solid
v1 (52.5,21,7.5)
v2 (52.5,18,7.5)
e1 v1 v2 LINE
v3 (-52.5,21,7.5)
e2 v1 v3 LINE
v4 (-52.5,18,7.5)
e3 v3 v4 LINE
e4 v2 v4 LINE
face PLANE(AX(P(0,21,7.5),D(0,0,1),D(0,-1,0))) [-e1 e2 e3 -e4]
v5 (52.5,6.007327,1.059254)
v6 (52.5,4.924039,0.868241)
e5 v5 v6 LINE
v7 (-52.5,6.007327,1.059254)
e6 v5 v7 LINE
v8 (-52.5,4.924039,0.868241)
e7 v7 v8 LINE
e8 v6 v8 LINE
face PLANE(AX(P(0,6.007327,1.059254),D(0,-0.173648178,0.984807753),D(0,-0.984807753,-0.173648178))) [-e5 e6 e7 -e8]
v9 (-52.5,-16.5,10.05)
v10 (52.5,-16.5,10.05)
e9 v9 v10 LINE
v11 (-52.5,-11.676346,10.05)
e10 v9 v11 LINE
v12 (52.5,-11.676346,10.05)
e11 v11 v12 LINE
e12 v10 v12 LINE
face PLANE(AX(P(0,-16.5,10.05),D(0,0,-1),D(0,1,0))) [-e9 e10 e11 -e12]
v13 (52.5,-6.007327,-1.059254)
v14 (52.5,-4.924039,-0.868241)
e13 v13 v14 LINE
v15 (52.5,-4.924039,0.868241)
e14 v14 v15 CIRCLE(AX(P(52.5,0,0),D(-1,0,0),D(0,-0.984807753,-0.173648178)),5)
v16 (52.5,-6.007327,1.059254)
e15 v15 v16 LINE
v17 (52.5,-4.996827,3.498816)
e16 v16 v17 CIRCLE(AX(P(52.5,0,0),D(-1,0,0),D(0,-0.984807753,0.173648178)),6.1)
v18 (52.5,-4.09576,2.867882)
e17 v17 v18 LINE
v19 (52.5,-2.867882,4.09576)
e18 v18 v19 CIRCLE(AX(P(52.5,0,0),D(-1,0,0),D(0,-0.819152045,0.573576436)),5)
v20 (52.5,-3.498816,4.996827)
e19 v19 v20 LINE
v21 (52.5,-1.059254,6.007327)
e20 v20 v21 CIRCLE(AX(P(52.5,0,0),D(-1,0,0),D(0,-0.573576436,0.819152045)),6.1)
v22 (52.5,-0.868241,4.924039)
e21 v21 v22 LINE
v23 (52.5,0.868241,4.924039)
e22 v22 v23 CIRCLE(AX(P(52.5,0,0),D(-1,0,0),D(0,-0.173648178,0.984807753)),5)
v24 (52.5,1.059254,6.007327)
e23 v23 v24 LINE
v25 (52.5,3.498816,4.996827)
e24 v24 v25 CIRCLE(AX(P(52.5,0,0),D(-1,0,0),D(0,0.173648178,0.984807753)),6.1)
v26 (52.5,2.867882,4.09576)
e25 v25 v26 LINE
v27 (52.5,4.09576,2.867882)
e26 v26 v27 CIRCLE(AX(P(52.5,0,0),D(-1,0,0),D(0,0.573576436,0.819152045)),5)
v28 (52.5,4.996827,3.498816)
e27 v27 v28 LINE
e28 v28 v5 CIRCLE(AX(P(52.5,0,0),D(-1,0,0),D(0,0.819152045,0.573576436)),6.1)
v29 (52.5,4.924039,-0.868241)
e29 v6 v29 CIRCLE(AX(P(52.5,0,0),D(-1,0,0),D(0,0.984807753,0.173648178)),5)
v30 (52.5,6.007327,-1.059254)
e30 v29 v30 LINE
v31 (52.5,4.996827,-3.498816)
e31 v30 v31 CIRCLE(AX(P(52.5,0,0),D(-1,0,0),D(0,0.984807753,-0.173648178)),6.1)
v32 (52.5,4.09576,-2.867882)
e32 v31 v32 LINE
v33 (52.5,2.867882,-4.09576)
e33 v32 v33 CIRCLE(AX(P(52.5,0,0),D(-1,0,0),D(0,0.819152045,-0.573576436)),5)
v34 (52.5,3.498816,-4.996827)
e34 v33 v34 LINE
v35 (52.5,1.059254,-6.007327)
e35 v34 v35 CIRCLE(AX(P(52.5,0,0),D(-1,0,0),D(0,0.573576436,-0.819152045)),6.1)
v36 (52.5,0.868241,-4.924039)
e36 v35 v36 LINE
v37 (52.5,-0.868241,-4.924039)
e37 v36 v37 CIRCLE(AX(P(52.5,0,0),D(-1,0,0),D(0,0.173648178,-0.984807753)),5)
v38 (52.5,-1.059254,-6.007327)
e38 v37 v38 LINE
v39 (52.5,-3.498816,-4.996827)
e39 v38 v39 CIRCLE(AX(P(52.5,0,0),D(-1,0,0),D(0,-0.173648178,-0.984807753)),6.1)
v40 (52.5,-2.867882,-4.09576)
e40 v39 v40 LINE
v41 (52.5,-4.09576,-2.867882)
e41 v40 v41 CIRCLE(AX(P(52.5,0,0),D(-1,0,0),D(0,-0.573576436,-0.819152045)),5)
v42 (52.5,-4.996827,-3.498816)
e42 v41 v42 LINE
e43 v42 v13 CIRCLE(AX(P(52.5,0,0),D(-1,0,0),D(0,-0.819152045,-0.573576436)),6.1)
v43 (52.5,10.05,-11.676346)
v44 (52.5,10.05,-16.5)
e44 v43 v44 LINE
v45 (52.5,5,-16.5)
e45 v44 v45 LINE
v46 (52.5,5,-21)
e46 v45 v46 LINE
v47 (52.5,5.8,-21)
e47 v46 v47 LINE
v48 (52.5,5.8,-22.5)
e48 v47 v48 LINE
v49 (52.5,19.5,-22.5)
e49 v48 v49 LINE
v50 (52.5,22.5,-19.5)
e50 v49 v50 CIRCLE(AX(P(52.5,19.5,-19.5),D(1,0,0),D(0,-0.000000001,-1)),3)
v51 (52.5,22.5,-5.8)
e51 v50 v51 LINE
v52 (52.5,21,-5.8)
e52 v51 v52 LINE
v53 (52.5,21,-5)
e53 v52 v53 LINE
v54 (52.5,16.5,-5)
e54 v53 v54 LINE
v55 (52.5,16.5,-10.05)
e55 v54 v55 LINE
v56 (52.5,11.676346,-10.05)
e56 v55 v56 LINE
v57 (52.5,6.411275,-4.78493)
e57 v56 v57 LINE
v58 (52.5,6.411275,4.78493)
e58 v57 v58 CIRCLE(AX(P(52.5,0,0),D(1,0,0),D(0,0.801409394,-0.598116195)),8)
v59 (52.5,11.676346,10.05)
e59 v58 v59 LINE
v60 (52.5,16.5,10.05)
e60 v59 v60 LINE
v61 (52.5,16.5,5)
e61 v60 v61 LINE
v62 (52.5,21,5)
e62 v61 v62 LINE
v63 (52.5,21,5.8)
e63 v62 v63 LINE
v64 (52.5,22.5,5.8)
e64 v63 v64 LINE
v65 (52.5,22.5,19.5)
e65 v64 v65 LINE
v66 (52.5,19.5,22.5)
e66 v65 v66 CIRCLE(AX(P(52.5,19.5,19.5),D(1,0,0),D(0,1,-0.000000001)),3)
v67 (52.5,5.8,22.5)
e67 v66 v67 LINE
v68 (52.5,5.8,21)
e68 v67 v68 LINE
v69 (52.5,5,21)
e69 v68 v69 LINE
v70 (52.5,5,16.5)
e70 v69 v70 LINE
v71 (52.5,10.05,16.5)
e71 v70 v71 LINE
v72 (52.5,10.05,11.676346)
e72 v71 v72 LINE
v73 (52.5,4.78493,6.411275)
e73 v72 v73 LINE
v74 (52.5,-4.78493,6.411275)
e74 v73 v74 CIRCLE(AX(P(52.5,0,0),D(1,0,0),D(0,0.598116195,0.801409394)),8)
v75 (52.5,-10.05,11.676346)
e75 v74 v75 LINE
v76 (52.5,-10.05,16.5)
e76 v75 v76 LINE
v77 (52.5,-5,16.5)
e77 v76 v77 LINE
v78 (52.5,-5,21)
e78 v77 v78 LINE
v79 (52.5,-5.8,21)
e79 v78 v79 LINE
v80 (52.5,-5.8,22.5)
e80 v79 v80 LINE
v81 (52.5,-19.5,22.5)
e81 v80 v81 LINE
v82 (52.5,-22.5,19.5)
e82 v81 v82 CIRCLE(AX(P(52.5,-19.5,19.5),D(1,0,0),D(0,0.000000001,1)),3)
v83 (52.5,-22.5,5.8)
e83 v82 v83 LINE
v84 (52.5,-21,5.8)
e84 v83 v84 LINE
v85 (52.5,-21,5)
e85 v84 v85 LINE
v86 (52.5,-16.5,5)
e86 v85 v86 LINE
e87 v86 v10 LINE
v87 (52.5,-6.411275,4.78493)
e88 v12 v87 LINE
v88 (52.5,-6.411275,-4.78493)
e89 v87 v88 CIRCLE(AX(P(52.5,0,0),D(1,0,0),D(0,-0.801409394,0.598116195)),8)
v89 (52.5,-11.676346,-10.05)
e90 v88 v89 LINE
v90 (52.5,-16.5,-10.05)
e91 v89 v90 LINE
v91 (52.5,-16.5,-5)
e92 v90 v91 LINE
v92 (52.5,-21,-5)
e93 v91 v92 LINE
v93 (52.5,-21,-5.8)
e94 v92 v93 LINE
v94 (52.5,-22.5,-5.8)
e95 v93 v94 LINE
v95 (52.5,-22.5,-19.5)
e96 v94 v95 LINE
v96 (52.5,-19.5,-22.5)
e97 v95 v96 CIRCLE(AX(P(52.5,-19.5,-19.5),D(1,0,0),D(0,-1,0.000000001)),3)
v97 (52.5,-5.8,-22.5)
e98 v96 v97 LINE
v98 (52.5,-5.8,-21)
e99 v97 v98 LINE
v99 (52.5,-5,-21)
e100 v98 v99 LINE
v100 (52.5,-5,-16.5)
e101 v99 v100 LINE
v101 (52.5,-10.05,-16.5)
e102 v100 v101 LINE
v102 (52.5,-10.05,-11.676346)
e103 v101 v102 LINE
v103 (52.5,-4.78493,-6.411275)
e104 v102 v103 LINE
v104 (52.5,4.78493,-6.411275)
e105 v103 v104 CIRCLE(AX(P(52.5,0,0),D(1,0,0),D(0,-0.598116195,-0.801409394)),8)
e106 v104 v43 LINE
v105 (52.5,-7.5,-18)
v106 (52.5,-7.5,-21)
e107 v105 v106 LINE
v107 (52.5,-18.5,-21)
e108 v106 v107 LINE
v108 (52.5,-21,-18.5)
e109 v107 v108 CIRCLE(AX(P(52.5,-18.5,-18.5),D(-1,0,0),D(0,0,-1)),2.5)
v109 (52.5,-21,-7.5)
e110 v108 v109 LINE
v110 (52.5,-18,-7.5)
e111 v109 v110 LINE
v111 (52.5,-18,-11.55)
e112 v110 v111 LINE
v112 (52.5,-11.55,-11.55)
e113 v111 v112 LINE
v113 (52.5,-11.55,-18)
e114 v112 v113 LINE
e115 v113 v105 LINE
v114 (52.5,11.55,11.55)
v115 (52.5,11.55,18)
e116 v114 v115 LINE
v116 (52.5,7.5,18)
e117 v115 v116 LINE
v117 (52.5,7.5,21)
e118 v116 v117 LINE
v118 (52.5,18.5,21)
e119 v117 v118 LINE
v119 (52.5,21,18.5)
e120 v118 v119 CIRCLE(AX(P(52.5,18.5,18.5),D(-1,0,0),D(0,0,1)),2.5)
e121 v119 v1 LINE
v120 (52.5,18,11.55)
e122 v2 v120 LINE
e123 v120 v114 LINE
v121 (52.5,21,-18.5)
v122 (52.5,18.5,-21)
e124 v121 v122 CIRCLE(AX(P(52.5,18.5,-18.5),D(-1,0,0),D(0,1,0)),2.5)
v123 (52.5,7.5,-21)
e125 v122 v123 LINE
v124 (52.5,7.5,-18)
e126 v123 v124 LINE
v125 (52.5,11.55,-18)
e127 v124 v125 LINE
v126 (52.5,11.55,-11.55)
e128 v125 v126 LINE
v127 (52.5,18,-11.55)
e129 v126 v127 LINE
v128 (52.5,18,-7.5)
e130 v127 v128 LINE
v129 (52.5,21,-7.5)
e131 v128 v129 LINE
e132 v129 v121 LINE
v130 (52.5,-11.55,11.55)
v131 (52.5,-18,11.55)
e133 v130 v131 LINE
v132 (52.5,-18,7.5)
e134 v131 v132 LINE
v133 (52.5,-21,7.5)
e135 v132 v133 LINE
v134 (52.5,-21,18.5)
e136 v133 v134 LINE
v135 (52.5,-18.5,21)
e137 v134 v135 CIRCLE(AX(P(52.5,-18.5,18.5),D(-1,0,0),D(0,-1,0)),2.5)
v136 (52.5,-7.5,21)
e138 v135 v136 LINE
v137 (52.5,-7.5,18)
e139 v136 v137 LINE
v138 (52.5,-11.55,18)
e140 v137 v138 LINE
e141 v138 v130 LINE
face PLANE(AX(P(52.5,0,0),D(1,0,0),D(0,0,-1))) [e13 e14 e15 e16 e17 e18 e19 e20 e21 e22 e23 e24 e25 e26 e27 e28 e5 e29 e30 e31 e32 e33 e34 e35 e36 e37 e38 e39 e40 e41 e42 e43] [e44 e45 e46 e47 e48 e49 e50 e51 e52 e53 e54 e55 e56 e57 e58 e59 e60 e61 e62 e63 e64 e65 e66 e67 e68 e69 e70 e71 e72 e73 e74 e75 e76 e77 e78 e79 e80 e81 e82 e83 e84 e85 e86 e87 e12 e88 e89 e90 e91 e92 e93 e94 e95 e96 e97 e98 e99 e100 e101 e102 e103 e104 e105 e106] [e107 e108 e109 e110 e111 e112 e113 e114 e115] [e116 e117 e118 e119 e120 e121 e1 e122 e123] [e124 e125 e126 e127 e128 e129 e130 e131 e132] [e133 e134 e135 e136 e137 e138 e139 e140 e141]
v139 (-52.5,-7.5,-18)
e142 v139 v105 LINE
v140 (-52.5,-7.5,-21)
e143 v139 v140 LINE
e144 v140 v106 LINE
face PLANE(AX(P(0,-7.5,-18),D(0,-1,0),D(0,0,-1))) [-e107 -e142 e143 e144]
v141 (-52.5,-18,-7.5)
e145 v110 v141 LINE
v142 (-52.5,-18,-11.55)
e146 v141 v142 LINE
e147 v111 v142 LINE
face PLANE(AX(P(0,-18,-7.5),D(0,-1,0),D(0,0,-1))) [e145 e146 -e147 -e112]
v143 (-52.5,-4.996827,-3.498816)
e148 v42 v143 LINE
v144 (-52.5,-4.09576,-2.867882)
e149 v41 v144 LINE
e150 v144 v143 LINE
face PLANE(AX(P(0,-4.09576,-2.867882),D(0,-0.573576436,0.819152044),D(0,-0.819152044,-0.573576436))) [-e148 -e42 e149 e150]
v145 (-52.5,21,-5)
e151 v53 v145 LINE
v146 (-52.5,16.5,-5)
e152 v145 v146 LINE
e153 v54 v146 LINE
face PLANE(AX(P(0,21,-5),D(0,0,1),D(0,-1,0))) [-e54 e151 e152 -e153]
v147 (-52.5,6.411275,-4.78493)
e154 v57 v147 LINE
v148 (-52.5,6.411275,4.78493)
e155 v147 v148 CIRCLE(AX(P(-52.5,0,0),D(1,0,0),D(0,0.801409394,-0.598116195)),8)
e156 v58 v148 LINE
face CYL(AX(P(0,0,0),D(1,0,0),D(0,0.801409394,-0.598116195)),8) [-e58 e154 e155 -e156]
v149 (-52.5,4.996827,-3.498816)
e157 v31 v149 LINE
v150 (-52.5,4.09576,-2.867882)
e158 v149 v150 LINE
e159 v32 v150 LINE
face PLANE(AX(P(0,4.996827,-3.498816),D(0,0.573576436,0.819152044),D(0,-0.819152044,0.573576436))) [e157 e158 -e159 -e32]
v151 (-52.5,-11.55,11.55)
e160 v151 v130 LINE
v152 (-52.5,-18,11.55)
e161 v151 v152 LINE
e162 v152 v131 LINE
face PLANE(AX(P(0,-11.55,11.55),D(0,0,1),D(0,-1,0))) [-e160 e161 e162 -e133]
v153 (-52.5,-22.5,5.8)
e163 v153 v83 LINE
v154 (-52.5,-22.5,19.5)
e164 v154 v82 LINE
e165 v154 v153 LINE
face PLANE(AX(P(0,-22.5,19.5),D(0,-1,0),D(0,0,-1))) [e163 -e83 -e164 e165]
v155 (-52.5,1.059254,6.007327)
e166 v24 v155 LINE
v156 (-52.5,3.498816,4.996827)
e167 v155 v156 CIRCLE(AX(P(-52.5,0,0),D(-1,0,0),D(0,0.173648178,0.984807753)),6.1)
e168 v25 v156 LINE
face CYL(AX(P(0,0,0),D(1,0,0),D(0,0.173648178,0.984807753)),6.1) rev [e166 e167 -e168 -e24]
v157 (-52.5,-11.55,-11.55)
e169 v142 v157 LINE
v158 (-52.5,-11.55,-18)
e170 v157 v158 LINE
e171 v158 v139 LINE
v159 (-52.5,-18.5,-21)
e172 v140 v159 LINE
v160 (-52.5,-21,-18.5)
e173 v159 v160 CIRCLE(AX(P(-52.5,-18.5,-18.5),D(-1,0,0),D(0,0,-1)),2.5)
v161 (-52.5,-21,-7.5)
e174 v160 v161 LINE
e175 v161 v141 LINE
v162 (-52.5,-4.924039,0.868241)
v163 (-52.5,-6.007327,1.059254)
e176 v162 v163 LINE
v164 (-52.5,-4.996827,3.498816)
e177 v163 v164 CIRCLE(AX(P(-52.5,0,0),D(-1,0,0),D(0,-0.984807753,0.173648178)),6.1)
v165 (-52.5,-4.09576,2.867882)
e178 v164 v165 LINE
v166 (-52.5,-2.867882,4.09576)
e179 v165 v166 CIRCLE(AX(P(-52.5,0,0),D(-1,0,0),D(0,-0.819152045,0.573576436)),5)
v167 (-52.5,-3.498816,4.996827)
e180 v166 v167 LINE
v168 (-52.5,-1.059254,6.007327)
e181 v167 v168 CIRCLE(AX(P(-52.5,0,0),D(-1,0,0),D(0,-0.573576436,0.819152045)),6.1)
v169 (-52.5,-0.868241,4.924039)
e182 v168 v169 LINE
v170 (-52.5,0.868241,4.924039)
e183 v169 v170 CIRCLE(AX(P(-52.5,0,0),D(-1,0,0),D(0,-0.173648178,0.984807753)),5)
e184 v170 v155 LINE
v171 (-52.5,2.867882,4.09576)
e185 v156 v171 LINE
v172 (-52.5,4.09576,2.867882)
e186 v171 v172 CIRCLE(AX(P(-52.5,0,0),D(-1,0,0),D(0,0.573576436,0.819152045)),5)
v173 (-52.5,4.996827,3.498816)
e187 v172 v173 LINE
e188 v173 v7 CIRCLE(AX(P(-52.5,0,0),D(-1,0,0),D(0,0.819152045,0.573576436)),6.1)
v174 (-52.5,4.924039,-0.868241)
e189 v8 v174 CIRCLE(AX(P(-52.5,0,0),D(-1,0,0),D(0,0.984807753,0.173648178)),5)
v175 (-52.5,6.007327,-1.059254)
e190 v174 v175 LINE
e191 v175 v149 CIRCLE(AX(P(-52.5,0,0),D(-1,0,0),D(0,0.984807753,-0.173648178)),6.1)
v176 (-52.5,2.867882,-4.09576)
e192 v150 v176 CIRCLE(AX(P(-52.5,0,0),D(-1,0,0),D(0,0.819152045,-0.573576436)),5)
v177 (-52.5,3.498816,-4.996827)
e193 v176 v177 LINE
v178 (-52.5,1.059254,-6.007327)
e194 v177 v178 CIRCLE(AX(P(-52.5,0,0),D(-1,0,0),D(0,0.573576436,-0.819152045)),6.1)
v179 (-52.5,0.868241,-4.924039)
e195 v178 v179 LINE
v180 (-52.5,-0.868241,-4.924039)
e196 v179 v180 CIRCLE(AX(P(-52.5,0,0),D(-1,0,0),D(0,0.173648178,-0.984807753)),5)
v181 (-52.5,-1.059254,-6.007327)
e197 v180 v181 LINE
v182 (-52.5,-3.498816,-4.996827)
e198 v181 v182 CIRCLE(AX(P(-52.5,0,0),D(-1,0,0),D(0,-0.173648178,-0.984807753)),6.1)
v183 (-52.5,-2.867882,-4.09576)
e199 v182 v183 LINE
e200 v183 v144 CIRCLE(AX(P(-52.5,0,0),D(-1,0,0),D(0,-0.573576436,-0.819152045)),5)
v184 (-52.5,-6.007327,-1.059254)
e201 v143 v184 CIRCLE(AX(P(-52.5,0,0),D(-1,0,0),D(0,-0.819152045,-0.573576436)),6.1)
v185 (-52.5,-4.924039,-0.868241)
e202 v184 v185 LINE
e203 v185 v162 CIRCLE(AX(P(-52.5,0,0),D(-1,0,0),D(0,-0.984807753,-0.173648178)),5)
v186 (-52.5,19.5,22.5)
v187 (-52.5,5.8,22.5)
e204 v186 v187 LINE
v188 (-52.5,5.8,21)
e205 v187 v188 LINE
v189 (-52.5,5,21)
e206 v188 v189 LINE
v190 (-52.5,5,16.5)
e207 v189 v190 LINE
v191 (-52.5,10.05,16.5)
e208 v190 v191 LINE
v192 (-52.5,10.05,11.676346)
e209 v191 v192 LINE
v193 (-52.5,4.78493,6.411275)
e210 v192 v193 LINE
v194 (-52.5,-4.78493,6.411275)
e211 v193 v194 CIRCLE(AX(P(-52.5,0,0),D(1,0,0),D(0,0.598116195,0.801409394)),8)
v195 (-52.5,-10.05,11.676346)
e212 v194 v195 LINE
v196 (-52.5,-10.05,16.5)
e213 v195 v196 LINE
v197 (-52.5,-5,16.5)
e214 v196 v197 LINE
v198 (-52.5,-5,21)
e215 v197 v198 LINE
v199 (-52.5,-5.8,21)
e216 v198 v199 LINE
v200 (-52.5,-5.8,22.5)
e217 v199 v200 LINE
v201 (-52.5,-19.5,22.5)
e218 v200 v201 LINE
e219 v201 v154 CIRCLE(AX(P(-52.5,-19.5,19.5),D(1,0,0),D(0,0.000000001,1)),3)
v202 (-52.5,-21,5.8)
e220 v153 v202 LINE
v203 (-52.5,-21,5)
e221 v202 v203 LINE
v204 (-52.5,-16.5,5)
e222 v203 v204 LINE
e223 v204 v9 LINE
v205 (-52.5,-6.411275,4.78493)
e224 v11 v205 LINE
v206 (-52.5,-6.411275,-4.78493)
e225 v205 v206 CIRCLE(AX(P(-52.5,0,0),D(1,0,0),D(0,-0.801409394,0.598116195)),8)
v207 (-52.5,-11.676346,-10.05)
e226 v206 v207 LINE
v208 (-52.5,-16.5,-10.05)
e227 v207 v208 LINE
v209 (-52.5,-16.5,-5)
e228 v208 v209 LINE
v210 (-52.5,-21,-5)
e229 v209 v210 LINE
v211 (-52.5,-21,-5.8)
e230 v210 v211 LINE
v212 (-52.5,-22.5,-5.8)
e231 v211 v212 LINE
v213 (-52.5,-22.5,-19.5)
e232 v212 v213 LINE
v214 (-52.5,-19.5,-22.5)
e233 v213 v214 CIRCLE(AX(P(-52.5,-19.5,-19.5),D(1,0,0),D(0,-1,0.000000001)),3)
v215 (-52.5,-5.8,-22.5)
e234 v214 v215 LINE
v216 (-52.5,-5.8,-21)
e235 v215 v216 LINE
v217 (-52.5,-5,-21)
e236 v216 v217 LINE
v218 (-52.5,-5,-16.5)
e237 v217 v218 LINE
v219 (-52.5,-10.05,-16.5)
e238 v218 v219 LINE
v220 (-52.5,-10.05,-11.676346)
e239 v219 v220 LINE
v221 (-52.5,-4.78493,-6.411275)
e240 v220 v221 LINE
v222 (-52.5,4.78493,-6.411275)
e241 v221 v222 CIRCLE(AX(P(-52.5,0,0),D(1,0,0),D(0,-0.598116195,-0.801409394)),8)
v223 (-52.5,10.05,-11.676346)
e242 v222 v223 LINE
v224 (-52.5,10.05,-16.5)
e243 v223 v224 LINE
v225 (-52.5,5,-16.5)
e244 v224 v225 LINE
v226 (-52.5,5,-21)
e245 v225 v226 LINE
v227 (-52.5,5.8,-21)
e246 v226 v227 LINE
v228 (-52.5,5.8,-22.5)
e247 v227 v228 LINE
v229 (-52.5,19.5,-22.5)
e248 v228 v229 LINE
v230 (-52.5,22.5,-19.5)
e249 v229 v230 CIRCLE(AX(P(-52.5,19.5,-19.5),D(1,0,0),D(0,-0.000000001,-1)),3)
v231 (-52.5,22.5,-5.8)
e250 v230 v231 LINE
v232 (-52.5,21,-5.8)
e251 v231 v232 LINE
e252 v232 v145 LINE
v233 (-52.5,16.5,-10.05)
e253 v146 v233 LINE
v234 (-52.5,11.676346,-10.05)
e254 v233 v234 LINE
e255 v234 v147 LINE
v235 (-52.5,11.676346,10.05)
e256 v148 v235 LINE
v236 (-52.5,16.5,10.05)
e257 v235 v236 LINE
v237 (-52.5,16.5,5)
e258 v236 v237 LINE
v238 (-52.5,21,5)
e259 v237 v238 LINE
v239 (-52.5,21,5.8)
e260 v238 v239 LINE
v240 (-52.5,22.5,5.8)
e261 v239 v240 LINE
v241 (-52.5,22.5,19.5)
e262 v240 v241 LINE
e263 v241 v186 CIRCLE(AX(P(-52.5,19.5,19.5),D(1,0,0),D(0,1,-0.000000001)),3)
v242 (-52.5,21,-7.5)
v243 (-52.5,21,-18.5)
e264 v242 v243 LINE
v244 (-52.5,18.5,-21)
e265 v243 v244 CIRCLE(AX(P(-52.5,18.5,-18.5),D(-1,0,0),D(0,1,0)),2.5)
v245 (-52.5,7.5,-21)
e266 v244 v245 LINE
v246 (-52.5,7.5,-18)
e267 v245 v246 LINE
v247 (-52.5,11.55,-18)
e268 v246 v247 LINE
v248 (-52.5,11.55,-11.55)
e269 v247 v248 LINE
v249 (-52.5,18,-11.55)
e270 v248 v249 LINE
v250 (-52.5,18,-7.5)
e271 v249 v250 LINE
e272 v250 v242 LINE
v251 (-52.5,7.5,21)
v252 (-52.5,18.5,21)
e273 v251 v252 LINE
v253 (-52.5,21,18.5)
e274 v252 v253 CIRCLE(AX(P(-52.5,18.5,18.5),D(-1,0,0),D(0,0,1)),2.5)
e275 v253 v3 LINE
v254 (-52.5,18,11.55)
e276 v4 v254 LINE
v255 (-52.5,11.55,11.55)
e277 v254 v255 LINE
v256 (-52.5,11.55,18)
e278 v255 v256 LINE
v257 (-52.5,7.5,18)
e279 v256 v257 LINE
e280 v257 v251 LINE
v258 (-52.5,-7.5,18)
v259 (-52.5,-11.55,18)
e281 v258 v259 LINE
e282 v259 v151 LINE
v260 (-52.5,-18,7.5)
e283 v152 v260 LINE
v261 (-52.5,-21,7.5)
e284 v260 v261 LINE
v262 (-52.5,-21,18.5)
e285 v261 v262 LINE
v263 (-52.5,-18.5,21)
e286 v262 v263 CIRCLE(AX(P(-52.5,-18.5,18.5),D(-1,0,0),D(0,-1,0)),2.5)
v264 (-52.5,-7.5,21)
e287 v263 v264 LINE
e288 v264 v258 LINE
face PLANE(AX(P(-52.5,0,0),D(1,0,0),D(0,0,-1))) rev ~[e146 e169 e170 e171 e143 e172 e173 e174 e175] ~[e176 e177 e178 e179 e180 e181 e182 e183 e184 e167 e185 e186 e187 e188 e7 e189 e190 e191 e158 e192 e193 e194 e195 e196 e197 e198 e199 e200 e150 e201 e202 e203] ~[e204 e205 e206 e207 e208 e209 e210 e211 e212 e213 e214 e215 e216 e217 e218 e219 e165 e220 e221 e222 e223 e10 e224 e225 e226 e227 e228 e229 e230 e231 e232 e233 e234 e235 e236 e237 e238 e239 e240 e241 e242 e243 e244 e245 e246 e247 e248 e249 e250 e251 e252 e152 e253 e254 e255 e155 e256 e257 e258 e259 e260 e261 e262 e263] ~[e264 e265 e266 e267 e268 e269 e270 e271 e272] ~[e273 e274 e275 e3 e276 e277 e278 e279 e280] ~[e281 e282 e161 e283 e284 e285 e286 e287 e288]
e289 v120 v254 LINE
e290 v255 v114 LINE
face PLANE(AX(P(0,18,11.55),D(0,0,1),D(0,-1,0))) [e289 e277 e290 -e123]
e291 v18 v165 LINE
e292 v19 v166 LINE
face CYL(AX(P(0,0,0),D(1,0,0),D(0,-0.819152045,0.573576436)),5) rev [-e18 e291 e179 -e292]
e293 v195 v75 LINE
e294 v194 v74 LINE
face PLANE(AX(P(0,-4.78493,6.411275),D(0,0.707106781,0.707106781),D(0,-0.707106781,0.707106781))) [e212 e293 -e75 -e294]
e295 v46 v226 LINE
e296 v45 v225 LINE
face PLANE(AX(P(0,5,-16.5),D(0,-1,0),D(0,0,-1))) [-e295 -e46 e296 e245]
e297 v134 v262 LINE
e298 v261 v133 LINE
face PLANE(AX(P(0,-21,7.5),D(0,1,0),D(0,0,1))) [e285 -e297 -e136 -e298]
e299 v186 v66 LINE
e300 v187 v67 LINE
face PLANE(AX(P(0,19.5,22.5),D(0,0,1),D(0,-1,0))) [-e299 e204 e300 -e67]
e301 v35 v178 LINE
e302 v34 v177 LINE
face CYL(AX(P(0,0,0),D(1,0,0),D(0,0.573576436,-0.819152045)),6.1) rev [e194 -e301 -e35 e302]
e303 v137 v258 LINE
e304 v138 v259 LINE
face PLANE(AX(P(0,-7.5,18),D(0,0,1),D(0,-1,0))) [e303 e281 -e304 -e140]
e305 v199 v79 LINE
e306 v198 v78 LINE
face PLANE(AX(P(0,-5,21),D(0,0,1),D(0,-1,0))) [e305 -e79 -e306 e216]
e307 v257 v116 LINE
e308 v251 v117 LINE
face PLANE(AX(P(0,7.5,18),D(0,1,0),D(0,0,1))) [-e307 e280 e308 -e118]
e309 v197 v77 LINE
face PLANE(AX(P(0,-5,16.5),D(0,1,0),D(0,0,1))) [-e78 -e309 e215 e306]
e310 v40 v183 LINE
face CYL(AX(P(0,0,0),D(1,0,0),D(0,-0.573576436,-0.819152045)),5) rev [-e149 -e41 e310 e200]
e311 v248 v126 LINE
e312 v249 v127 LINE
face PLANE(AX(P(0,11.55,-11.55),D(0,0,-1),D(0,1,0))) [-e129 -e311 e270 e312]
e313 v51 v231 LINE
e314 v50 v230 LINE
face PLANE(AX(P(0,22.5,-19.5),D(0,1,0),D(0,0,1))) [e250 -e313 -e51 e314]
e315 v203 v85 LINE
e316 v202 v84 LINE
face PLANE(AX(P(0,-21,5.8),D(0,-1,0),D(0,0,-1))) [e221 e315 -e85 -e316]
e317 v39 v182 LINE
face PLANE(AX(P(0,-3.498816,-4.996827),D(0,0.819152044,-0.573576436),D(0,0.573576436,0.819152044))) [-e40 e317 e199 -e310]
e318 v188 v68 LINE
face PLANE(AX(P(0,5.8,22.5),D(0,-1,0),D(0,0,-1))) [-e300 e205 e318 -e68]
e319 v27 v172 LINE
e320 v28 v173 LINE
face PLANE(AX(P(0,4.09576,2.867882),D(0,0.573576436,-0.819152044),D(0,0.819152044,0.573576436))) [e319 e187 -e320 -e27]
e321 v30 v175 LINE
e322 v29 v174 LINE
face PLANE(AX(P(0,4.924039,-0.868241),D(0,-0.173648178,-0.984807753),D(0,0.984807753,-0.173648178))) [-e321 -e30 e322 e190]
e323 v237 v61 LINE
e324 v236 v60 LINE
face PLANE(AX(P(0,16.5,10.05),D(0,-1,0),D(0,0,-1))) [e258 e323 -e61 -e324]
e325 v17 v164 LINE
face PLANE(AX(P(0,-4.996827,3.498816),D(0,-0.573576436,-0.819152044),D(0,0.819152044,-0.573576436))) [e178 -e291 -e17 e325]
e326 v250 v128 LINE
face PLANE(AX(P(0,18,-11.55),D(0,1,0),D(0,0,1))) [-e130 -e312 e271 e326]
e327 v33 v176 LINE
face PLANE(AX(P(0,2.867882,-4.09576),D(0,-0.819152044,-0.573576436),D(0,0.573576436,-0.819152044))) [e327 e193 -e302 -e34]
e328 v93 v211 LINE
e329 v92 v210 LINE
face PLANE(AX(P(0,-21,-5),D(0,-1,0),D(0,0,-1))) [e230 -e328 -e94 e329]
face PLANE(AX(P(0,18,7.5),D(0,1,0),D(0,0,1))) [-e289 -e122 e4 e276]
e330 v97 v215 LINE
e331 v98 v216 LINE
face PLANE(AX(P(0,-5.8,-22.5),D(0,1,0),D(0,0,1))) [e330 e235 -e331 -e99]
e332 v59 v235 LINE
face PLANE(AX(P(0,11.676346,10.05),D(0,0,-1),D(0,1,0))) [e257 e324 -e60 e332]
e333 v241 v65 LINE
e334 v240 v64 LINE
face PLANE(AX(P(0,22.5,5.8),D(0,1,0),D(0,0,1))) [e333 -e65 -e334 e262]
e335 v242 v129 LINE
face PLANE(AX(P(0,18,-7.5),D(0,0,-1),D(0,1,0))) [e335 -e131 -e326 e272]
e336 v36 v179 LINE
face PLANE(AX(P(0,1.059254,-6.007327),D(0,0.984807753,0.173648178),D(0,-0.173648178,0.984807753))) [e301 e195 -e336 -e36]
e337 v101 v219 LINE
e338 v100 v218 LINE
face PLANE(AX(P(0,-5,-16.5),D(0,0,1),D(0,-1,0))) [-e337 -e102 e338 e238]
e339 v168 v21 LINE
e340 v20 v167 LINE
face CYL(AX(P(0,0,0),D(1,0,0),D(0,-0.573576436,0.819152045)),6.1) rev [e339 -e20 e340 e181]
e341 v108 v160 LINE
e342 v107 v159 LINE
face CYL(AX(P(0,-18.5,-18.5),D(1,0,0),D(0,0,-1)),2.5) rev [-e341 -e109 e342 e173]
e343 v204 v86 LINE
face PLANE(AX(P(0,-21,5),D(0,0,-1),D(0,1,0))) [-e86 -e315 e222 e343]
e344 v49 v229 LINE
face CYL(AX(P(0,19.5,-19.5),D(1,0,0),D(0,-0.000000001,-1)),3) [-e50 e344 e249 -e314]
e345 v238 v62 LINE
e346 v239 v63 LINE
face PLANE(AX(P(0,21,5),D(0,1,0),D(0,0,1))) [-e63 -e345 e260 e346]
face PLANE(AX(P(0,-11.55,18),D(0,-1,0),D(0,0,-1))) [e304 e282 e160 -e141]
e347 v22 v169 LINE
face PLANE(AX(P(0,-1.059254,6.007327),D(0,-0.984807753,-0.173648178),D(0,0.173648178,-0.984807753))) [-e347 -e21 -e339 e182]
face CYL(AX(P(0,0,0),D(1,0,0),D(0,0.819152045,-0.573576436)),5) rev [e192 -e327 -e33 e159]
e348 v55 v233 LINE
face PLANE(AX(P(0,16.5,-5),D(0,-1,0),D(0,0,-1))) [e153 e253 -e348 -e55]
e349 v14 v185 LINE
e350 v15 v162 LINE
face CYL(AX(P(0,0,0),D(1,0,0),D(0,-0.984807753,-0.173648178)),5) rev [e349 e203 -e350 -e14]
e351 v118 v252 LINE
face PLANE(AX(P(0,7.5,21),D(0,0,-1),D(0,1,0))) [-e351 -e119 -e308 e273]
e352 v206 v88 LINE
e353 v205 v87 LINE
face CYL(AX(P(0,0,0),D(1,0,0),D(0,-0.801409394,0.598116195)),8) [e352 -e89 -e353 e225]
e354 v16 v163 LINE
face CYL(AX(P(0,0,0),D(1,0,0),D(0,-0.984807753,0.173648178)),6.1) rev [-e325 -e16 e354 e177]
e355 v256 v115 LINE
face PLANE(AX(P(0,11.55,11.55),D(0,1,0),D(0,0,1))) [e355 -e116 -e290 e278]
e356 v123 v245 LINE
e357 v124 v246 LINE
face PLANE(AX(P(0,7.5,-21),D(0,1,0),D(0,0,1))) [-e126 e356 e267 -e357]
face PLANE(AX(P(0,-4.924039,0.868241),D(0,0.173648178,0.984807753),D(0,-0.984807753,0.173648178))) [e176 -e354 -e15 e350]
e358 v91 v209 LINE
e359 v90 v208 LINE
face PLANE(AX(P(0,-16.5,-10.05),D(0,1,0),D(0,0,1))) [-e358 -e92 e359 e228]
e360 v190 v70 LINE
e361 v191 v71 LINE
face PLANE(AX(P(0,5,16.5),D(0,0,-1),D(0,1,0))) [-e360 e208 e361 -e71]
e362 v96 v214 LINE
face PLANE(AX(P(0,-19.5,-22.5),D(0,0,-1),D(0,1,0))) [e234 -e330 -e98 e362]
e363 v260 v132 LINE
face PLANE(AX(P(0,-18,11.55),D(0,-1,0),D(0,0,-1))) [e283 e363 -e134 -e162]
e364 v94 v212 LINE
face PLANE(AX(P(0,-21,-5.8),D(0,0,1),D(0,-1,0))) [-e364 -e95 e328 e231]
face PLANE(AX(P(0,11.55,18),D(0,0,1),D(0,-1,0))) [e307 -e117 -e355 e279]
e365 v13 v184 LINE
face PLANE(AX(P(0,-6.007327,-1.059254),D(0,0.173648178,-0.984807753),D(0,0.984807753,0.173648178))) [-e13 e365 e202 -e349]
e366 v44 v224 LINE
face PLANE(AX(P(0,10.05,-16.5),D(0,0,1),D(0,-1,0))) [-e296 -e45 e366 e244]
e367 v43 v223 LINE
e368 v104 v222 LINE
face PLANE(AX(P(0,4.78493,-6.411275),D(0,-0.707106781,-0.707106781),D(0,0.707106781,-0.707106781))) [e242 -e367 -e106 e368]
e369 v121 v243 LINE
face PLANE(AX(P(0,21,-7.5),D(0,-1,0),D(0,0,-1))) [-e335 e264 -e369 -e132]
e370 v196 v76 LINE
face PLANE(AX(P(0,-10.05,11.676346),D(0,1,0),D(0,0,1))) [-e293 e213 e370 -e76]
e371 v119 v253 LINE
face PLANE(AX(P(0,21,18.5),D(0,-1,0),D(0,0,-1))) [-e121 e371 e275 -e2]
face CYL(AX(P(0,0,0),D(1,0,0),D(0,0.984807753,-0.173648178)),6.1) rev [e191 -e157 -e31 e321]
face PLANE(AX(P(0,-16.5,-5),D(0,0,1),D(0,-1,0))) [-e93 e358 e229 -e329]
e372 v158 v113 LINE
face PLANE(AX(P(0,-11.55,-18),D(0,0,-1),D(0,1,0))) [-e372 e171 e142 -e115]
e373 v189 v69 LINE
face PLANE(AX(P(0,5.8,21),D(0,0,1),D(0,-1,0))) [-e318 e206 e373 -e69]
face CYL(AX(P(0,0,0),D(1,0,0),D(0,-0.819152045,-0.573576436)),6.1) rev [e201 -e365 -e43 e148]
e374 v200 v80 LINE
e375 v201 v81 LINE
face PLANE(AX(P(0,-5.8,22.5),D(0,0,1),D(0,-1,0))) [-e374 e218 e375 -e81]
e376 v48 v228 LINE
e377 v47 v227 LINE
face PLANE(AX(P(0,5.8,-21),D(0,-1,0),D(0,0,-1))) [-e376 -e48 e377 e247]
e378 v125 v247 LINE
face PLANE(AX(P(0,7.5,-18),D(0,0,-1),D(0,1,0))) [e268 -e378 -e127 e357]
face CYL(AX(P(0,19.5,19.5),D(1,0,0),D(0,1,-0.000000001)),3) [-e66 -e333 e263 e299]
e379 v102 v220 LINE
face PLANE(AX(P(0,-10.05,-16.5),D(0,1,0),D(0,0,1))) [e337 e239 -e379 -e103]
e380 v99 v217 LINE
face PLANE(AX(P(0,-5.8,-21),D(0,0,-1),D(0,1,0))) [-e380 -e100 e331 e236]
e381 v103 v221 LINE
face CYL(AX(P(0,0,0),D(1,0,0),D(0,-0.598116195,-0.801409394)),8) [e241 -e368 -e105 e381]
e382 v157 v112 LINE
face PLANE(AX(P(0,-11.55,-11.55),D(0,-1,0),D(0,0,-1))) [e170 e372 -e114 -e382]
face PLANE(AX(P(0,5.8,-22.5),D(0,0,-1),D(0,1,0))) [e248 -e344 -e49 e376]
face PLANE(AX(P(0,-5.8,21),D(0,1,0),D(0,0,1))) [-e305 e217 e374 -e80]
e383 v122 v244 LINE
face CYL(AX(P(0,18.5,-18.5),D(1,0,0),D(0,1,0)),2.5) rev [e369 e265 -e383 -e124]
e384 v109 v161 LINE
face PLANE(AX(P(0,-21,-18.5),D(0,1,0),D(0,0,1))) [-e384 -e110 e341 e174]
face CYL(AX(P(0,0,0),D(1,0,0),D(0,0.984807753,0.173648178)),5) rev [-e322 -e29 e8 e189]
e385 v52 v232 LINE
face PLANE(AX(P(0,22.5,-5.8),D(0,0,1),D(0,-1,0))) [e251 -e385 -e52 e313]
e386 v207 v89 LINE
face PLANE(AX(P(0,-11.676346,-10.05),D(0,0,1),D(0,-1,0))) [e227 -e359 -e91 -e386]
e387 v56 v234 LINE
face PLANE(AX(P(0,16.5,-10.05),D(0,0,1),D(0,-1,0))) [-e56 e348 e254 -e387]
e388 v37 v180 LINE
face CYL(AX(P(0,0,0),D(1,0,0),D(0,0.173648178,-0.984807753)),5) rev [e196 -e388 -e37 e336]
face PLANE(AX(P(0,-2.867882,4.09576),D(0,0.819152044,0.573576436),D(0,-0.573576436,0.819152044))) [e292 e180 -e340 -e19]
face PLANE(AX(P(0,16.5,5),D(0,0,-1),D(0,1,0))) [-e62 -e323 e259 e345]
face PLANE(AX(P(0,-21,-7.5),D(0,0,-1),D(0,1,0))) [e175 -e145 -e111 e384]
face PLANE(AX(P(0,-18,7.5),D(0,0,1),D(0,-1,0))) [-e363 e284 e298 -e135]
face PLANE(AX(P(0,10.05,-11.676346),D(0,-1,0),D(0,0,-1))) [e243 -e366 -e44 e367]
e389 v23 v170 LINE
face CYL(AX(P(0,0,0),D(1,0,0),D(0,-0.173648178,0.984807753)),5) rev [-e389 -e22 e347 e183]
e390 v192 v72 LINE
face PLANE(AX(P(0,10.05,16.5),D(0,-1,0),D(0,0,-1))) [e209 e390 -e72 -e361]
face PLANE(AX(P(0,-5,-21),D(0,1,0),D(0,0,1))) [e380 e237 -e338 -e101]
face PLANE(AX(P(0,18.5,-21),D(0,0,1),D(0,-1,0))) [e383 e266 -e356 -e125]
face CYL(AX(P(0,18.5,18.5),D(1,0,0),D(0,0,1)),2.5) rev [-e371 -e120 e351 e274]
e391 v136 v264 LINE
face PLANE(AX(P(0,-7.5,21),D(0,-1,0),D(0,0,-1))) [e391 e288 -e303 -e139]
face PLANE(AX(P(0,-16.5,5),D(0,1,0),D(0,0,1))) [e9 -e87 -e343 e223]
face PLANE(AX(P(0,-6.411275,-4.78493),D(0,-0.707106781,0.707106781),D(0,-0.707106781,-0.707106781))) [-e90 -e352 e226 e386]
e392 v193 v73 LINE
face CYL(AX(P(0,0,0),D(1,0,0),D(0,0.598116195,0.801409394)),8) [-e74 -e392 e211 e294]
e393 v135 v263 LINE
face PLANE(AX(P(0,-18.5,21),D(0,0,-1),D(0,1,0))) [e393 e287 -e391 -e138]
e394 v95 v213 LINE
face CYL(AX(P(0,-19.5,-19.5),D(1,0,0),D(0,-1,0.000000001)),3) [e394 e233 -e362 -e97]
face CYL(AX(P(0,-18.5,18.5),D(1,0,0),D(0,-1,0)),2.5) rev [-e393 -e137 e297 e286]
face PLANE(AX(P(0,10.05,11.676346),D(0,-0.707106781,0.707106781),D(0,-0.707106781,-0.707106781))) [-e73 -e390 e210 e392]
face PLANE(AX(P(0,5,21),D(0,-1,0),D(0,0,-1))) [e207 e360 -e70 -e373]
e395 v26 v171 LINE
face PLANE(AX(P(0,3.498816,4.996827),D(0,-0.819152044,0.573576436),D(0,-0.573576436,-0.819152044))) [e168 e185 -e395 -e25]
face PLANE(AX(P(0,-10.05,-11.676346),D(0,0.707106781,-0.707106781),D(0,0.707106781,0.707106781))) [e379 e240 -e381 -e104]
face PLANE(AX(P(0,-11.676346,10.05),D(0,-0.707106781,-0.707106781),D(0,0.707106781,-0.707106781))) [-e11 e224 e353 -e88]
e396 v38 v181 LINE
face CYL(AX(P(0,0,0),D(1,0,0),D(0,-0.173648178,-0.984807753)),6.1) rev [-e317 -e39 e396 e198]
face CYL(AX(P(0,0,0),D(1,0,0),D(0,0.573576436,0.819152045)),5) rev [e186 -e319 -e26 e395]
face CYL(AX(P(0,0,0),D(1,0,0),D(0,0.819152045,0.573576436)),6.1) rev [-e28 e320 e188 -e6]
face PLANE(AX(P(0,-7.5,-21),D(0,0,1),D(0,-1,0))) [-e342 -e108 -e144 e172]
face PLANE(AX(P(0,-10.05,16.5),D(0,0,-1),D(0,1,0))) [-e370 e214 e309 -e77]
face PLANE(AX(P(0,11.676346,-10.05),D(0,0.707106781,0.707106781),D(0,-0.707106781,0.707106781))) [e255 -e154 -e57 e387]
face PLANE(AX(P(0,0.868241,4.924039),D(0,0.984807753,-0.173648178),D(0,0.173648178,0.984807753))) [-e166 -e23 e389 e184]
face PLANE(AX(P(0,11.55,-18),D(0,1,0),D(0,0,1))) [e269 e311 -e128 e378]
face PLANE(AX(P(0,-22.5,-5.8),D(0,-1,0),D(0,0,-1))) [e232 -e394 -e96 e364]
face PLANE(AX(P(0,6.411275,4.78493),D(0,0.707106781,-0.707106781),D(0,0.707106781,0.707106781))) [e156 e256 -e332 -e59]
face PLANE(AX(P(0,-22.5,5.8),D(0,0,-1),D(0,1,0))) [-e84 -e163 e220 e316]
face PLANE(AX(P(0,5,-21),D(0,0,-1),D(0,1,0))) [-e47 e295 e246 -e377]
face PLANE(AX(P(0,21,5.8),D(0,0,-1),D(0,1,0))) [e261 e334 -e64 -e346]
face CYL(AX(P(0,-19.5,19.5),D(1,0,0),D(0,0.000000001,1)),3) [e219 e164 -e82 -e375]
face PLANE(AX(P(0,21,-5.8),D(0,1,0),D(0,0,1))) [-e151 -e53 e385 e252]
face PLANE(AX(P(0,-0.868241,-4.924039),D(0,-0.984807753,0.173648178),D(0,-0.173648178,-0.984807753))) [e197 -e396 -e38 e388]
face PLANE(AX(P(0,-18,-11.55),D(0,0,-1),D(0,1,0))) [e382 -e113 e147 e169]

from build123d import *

# Parameters (mm, degrees)
BR_EXTRUDE_DEPTH      = 52.5
BR_EXTRUDE_DEPTH_BACK = 52.5


with BuildPart() as part:
    # Sketch2 → BR_Extrude (new body, two sides)
    with BuildSketch(Plane(origin=(0, 0, 0), x_dir=(0, 0, -1), z_dir=(1, 0, 0))) as br_extrude_sk:
        with BuildLine():
            Line((-10.05, 11.676345597), (-10.05, 16.5))
            Line((-10.05, 16.5), (-5, 16.5))
            Line((-5, 16.5), (-5, 21))
            Line((-5, 21), (-5.8, 21))
            Line((-5.8, 21), (-5.8, 22.5))
            Line((-5.8, 22.5), (-19.5, 22.5))
            ThreePointArc((-19.5, 22.5), (-21.621320344, 21.621320344), (-22.5, 19.5))
            Line((-22.5, 19.5), (-22.5, 5.8))
            Line((-22.5, 5.8), (-21, 5.8))
            Line((-21, 5.8), (-21, 5))
            Line((-21, 5), (-16.5, 5))
            Line((-16.5, 5), (-16.5, 10.05))
            Line((-16.5, 10.05), (-11.676345597, 10.05))
            Line((-11.676345597, 10.05), (-6.411275155, 4.784929559))
            ThreePointArc((-6.411275155, 4.784929559), (-8, 0), (-6.411275155, -4.784929559))
            Line((-6.411275155, -4.784929559), (-11.676345597, -10.05))
            Line((-11.676345597, -10.05), (-16.5, -10.05))
            Line((-16.5, -10.05), (-16.5, -5))
            Line((-16.5, -5), (-21, -5))
            Line((-21, -5), (-21, -5.8))
            Line((-21, -5.8), (-22.5, -5.8))
            Line((-22.5, -5.8), (-22.5, -19.5))
            ThreePointArc((-22.5, -19.5), (-21.621320344, -21.621320344), (-19.5, -22.5))
            Line((-19.5, -22.5), (-5.8, -22.5))
            Line((-5.8, -22.5), (-5.8, -21))
            Line((-5.8, -21), (-5, -21))
            Line((-5, -21), (-5, -16.5))
            Line((-5, -16.5), (-10.05, -16.5))
            Line((-10.05, -16.5), (-10.05, -11.676345597))
            Line((-10.05, -11.676345597), (-4.784929559, -6.411275155))
            ThreePointArc((-4.784929559, -6.411275155), (0, -8), (4.784929559, -6.411275155))
            Line((4.784929559, -6.411275155), (10.05, -11.676345597))
            Line((10.05, -11.676345597), (10.05, -16.5))
            Line((10.05, -16.5), (5, -16.5))
            Line((5, -16.5), (5, -21))
            Line((5, -21), (5.8, -21))
            Line((5.8, -21), (5.8, -22.5))
            Line((5.8, -22.5), (19.5, -22.5))
            ThreePointArc((19.5, -22.5), (21.621320344, -21.621320344), (22.5, -19.5))
            Line((22.5, -19.5), (22.5, -5.8))
            Line((22.5, -5.8), (21, -5.8))
            Line((21, -5.8), (21, -5))
            Line((21, -5), (16.5, -5))
            Line((16.5, -5), (16.5, -10.05))
            Line((16.5, -10.05), (11.676345597, -10.05))
            Line((11.676345597, -10.05), (6.411275155, -4.784929559))
            ThreePointArc((6.411275155, -4.784929559), (8, 0), (6.411275155, 4.784929559))
            Line((6.411275155, 4.784929559), (11.676345597, 10.05))
            Line((11.676345597, 10.05), (16.5, 10.05))
            Line((16.5, 10.05), (16.5, 5))
            Line((16.5, 5), (21, 5))
            Line((21, 5), (21, 5.8))
            Line((21, 5.8), (22.5, 5.8))
            Line((22.5, 5.8), (22.5, 19.5))
            ThreePointArc((22.5, 19.5), (21.621320344, 21.621320344), (19.5, 22.5))
            Line((19.5, 22.5), (5.8, 22.5))
            Line((5.8, 22.5), (5.8, 21))
            Line((5.8, 21), (5, 21))
            Line((5, 21), (5, 16.5))
            Line((5, 16.5), (10.05, 16.5))
            Line((10.05, 16.5), (10.05, 11.676345597))
            Line((10.05, 11.676345597), (4.784929559, 6.411275155))
            ThreePointArc((4.784929559, 6.411275155), (0, 8), (-4.784929559, 6.411275155))
            Line((-4.784929559, 6.411275155), (-10.05, 11.676345597))
        make_face()
        with BuildLine():
            Line((11.55, 11.55), (11.55, 18))
            Line((11.55, 18), (7.5, 18))
            Line((7.5, 18), (7.5, 21))
            Line((7.5, 21), (18.5, 21))
            ThreePointArc((18.5, 21), (20.267766953, 20.267766953), (21, 18.5))
            Line((21, 18.5), (21, 7.5))
            Line((21, 7.5), (18, 7.5))
            Line((18, 7.5), (18, 11.55))
            Line((18, 11.55), (11.55, 11.55))
        make_face(mode=Mode.SUBTRACT)
        with BuildLine():
            Line((11.55, -11.55), (18, -11.55))
            Line((18, -11.55), (18, -7.5))
            Line((18, -7.5), (21, -7.5))
            Line((21, -7.5), (21, -18.5))
            ThreePointArc((21, -18.5), (20.267766953, -20.267766953), (18.5, -21))
            Line((18.5, -21), (7.5, -21))
            Line((7.5, -21), (7.5, -18))
            Line((7.5, -18), (11.55, -18))
            Line((11.55, -18), (11.55, -11.55))
        make_face(mode=Mode.SUBTRACT)
        with BuildLine():
            Line((-11.55, 11.55), (-18, 11.55))
            Line((-18, 11.55), (-18, 7.5))
            Line((-18, 7.5), (-21, 7.5))
            Line((-21, 7.5), (-21, 18.5))
            ThreePointArc((-21, 18.5), (-20.267766953, 20.267766953), (-18.5, 21))
            Line((-18.5, 21), (-7.5, 21))
            Line((-7.5, 21), (-7.5, 18))
            Line((-7.5, 18), (-11.55, 18))
            Line((-11.55, 18), (-11.55, 11.55))
        make_face(mode=Mode.SUBTRACT)
        with BuildLine():
            Line((-11.55, -11.55), (-11.55, -18))
            Line((-11.55, -18), (-7.5, -18))
            Line((-7.5, -18), (-7.5, -21))
            Line((-7.5, -21), (-18.5, -21))
            ThreePointArc((-18.5, -21), (-20.267766953, -20.267766953), (-21, -18.5))
            Line((-21, -18.5), (-21, -7.5))
            Line((-21, -7.5), (-18, -7.5))
            Line((-18, -7.5), (-18, -11.55))
            Line((-18, -11.55), (-11.55, -11.55))
        make_face(mode=Mode.SUBTRACT)
        with BuildLine():
            Line((-6.007327293, -1.059253884), (-4.924038765, -0.868240888))
            ThreePointArc((-4.924038765, -0.868240888), (-5, 0), (-4.924038765, 0.868240888))
            Line((-4.924038765, 0.868240888), (-6.007327293, 1.059253884))
            ThreePointArc((-6.007327293, 1.059253884), (-5.635665148, 2.334368937), (-4.99682747, 3.498816262))
            Line((-4.99682747, 3.498816262), (-4.095760221, 2.867882182))
            ThreePointArc((-4.095760221, 2.867882182), (-3.535533906, 3.535533906), (-2.867882182, 4.095760221))
            Line((-2.867882182, 4.095760221), (-3.498816262, 4.99682747))
            ThreePointArc((-3.498816262, 4.99682747), (-2.334368937, 5.635665148), (-1.059253884, 6.007327293))
            Line((-1.059253884, 6.007327293), (-0.868240888, 4.924038765))
            ThreePointArc((-0.868240888, 4.924038765), (0, 5), (0.868240888, 4.924038765))
            Line((0.868240888, 4.924038765), (1.059253884, 6.007327293))
            ThreePointArc((1.059253884, 6.007327293), (2.334368937, 5.635665148), (3.498816262, 4.99682747))
            Line((3.498816262, 4.99682747), (2.867882182, 4.095760221))
            ThreePointArc((2.867882182, 4.095760221), (3.535533906, 3.535533906), (4.095760221, 2.867882182))
            Line((4.095760221, 2.867882182), (4.99682747, 3.498816262))
            ThreePointArc((4.99682747, 3.498816262), (5.635665148, 2.334368937), (6.007327293, 1.059253884))
            Line((6.007327293, 1.059253884), (4.924038765, 0.868240888))
            ThreePointArc((4.924038765, 0.868240888), (5, 0), (4.924038765, -0.868240888))
            Line((4.924038765, -0.868240888), (6.007327293, -1.059253884))
            ThreePointArc((6.007327293, -1.059253884), (5.635665148, -2.334368937), (4.99682747, -3.498816262))
            Line((4.99682747, -3.498816262), (4.095760221, -2.867882182))
            ThreePointArc((4.095760221, -2.867882182), (3.535533906, -3.535533906), (2.867882182, -4.095760221))
            Line((2.867882182, -4.095760221), (3.498816262, -4.99682747))
            ThreePointArc((3.498816262, -4.99682747), (2.334368937, -5.635665148), (1.059253884, -6.007327293))
            Line((1.059253884, -6.007327293), (0.868240888, -4.924038765))
            ThreePointArc((0.868240888, -4.924038765), (0, -5), (-0.868240888, -4.924038765))
            Line((-0.868240888, -4.924038765), (-1.059253884, -6.007327293))
            ThreePointArc((-1.059253884, -6.007327293), (-2.334368937, -5.635665148), (-3.498816262, -4.99682747))
            Line((-3.498816262, -4.99682747), (-2.867882182, -4.095760221))
            ThreePointArc((-2.867882182, -4.095760221), (-3.535533906, -3.535533906), (-4.095760221, -2.867882182))
            Line((-4.095760221, -2.867882182), (-4.99682747, -3.498816262))
            ThreePointArc((-4.99682747, -3.498816262), (-5.635665148, -2.334368937), (-6.007327293, -1.059253884))
        make_face(mode=Mode.SUBTRACT)
    extrude(amount=BR_EXTRUDE_DEPTH)
    extrude(br_extrude_sk.sketch, amount=-BR_EXTRUDE_DEPTH_BACK)


solid = part.part
